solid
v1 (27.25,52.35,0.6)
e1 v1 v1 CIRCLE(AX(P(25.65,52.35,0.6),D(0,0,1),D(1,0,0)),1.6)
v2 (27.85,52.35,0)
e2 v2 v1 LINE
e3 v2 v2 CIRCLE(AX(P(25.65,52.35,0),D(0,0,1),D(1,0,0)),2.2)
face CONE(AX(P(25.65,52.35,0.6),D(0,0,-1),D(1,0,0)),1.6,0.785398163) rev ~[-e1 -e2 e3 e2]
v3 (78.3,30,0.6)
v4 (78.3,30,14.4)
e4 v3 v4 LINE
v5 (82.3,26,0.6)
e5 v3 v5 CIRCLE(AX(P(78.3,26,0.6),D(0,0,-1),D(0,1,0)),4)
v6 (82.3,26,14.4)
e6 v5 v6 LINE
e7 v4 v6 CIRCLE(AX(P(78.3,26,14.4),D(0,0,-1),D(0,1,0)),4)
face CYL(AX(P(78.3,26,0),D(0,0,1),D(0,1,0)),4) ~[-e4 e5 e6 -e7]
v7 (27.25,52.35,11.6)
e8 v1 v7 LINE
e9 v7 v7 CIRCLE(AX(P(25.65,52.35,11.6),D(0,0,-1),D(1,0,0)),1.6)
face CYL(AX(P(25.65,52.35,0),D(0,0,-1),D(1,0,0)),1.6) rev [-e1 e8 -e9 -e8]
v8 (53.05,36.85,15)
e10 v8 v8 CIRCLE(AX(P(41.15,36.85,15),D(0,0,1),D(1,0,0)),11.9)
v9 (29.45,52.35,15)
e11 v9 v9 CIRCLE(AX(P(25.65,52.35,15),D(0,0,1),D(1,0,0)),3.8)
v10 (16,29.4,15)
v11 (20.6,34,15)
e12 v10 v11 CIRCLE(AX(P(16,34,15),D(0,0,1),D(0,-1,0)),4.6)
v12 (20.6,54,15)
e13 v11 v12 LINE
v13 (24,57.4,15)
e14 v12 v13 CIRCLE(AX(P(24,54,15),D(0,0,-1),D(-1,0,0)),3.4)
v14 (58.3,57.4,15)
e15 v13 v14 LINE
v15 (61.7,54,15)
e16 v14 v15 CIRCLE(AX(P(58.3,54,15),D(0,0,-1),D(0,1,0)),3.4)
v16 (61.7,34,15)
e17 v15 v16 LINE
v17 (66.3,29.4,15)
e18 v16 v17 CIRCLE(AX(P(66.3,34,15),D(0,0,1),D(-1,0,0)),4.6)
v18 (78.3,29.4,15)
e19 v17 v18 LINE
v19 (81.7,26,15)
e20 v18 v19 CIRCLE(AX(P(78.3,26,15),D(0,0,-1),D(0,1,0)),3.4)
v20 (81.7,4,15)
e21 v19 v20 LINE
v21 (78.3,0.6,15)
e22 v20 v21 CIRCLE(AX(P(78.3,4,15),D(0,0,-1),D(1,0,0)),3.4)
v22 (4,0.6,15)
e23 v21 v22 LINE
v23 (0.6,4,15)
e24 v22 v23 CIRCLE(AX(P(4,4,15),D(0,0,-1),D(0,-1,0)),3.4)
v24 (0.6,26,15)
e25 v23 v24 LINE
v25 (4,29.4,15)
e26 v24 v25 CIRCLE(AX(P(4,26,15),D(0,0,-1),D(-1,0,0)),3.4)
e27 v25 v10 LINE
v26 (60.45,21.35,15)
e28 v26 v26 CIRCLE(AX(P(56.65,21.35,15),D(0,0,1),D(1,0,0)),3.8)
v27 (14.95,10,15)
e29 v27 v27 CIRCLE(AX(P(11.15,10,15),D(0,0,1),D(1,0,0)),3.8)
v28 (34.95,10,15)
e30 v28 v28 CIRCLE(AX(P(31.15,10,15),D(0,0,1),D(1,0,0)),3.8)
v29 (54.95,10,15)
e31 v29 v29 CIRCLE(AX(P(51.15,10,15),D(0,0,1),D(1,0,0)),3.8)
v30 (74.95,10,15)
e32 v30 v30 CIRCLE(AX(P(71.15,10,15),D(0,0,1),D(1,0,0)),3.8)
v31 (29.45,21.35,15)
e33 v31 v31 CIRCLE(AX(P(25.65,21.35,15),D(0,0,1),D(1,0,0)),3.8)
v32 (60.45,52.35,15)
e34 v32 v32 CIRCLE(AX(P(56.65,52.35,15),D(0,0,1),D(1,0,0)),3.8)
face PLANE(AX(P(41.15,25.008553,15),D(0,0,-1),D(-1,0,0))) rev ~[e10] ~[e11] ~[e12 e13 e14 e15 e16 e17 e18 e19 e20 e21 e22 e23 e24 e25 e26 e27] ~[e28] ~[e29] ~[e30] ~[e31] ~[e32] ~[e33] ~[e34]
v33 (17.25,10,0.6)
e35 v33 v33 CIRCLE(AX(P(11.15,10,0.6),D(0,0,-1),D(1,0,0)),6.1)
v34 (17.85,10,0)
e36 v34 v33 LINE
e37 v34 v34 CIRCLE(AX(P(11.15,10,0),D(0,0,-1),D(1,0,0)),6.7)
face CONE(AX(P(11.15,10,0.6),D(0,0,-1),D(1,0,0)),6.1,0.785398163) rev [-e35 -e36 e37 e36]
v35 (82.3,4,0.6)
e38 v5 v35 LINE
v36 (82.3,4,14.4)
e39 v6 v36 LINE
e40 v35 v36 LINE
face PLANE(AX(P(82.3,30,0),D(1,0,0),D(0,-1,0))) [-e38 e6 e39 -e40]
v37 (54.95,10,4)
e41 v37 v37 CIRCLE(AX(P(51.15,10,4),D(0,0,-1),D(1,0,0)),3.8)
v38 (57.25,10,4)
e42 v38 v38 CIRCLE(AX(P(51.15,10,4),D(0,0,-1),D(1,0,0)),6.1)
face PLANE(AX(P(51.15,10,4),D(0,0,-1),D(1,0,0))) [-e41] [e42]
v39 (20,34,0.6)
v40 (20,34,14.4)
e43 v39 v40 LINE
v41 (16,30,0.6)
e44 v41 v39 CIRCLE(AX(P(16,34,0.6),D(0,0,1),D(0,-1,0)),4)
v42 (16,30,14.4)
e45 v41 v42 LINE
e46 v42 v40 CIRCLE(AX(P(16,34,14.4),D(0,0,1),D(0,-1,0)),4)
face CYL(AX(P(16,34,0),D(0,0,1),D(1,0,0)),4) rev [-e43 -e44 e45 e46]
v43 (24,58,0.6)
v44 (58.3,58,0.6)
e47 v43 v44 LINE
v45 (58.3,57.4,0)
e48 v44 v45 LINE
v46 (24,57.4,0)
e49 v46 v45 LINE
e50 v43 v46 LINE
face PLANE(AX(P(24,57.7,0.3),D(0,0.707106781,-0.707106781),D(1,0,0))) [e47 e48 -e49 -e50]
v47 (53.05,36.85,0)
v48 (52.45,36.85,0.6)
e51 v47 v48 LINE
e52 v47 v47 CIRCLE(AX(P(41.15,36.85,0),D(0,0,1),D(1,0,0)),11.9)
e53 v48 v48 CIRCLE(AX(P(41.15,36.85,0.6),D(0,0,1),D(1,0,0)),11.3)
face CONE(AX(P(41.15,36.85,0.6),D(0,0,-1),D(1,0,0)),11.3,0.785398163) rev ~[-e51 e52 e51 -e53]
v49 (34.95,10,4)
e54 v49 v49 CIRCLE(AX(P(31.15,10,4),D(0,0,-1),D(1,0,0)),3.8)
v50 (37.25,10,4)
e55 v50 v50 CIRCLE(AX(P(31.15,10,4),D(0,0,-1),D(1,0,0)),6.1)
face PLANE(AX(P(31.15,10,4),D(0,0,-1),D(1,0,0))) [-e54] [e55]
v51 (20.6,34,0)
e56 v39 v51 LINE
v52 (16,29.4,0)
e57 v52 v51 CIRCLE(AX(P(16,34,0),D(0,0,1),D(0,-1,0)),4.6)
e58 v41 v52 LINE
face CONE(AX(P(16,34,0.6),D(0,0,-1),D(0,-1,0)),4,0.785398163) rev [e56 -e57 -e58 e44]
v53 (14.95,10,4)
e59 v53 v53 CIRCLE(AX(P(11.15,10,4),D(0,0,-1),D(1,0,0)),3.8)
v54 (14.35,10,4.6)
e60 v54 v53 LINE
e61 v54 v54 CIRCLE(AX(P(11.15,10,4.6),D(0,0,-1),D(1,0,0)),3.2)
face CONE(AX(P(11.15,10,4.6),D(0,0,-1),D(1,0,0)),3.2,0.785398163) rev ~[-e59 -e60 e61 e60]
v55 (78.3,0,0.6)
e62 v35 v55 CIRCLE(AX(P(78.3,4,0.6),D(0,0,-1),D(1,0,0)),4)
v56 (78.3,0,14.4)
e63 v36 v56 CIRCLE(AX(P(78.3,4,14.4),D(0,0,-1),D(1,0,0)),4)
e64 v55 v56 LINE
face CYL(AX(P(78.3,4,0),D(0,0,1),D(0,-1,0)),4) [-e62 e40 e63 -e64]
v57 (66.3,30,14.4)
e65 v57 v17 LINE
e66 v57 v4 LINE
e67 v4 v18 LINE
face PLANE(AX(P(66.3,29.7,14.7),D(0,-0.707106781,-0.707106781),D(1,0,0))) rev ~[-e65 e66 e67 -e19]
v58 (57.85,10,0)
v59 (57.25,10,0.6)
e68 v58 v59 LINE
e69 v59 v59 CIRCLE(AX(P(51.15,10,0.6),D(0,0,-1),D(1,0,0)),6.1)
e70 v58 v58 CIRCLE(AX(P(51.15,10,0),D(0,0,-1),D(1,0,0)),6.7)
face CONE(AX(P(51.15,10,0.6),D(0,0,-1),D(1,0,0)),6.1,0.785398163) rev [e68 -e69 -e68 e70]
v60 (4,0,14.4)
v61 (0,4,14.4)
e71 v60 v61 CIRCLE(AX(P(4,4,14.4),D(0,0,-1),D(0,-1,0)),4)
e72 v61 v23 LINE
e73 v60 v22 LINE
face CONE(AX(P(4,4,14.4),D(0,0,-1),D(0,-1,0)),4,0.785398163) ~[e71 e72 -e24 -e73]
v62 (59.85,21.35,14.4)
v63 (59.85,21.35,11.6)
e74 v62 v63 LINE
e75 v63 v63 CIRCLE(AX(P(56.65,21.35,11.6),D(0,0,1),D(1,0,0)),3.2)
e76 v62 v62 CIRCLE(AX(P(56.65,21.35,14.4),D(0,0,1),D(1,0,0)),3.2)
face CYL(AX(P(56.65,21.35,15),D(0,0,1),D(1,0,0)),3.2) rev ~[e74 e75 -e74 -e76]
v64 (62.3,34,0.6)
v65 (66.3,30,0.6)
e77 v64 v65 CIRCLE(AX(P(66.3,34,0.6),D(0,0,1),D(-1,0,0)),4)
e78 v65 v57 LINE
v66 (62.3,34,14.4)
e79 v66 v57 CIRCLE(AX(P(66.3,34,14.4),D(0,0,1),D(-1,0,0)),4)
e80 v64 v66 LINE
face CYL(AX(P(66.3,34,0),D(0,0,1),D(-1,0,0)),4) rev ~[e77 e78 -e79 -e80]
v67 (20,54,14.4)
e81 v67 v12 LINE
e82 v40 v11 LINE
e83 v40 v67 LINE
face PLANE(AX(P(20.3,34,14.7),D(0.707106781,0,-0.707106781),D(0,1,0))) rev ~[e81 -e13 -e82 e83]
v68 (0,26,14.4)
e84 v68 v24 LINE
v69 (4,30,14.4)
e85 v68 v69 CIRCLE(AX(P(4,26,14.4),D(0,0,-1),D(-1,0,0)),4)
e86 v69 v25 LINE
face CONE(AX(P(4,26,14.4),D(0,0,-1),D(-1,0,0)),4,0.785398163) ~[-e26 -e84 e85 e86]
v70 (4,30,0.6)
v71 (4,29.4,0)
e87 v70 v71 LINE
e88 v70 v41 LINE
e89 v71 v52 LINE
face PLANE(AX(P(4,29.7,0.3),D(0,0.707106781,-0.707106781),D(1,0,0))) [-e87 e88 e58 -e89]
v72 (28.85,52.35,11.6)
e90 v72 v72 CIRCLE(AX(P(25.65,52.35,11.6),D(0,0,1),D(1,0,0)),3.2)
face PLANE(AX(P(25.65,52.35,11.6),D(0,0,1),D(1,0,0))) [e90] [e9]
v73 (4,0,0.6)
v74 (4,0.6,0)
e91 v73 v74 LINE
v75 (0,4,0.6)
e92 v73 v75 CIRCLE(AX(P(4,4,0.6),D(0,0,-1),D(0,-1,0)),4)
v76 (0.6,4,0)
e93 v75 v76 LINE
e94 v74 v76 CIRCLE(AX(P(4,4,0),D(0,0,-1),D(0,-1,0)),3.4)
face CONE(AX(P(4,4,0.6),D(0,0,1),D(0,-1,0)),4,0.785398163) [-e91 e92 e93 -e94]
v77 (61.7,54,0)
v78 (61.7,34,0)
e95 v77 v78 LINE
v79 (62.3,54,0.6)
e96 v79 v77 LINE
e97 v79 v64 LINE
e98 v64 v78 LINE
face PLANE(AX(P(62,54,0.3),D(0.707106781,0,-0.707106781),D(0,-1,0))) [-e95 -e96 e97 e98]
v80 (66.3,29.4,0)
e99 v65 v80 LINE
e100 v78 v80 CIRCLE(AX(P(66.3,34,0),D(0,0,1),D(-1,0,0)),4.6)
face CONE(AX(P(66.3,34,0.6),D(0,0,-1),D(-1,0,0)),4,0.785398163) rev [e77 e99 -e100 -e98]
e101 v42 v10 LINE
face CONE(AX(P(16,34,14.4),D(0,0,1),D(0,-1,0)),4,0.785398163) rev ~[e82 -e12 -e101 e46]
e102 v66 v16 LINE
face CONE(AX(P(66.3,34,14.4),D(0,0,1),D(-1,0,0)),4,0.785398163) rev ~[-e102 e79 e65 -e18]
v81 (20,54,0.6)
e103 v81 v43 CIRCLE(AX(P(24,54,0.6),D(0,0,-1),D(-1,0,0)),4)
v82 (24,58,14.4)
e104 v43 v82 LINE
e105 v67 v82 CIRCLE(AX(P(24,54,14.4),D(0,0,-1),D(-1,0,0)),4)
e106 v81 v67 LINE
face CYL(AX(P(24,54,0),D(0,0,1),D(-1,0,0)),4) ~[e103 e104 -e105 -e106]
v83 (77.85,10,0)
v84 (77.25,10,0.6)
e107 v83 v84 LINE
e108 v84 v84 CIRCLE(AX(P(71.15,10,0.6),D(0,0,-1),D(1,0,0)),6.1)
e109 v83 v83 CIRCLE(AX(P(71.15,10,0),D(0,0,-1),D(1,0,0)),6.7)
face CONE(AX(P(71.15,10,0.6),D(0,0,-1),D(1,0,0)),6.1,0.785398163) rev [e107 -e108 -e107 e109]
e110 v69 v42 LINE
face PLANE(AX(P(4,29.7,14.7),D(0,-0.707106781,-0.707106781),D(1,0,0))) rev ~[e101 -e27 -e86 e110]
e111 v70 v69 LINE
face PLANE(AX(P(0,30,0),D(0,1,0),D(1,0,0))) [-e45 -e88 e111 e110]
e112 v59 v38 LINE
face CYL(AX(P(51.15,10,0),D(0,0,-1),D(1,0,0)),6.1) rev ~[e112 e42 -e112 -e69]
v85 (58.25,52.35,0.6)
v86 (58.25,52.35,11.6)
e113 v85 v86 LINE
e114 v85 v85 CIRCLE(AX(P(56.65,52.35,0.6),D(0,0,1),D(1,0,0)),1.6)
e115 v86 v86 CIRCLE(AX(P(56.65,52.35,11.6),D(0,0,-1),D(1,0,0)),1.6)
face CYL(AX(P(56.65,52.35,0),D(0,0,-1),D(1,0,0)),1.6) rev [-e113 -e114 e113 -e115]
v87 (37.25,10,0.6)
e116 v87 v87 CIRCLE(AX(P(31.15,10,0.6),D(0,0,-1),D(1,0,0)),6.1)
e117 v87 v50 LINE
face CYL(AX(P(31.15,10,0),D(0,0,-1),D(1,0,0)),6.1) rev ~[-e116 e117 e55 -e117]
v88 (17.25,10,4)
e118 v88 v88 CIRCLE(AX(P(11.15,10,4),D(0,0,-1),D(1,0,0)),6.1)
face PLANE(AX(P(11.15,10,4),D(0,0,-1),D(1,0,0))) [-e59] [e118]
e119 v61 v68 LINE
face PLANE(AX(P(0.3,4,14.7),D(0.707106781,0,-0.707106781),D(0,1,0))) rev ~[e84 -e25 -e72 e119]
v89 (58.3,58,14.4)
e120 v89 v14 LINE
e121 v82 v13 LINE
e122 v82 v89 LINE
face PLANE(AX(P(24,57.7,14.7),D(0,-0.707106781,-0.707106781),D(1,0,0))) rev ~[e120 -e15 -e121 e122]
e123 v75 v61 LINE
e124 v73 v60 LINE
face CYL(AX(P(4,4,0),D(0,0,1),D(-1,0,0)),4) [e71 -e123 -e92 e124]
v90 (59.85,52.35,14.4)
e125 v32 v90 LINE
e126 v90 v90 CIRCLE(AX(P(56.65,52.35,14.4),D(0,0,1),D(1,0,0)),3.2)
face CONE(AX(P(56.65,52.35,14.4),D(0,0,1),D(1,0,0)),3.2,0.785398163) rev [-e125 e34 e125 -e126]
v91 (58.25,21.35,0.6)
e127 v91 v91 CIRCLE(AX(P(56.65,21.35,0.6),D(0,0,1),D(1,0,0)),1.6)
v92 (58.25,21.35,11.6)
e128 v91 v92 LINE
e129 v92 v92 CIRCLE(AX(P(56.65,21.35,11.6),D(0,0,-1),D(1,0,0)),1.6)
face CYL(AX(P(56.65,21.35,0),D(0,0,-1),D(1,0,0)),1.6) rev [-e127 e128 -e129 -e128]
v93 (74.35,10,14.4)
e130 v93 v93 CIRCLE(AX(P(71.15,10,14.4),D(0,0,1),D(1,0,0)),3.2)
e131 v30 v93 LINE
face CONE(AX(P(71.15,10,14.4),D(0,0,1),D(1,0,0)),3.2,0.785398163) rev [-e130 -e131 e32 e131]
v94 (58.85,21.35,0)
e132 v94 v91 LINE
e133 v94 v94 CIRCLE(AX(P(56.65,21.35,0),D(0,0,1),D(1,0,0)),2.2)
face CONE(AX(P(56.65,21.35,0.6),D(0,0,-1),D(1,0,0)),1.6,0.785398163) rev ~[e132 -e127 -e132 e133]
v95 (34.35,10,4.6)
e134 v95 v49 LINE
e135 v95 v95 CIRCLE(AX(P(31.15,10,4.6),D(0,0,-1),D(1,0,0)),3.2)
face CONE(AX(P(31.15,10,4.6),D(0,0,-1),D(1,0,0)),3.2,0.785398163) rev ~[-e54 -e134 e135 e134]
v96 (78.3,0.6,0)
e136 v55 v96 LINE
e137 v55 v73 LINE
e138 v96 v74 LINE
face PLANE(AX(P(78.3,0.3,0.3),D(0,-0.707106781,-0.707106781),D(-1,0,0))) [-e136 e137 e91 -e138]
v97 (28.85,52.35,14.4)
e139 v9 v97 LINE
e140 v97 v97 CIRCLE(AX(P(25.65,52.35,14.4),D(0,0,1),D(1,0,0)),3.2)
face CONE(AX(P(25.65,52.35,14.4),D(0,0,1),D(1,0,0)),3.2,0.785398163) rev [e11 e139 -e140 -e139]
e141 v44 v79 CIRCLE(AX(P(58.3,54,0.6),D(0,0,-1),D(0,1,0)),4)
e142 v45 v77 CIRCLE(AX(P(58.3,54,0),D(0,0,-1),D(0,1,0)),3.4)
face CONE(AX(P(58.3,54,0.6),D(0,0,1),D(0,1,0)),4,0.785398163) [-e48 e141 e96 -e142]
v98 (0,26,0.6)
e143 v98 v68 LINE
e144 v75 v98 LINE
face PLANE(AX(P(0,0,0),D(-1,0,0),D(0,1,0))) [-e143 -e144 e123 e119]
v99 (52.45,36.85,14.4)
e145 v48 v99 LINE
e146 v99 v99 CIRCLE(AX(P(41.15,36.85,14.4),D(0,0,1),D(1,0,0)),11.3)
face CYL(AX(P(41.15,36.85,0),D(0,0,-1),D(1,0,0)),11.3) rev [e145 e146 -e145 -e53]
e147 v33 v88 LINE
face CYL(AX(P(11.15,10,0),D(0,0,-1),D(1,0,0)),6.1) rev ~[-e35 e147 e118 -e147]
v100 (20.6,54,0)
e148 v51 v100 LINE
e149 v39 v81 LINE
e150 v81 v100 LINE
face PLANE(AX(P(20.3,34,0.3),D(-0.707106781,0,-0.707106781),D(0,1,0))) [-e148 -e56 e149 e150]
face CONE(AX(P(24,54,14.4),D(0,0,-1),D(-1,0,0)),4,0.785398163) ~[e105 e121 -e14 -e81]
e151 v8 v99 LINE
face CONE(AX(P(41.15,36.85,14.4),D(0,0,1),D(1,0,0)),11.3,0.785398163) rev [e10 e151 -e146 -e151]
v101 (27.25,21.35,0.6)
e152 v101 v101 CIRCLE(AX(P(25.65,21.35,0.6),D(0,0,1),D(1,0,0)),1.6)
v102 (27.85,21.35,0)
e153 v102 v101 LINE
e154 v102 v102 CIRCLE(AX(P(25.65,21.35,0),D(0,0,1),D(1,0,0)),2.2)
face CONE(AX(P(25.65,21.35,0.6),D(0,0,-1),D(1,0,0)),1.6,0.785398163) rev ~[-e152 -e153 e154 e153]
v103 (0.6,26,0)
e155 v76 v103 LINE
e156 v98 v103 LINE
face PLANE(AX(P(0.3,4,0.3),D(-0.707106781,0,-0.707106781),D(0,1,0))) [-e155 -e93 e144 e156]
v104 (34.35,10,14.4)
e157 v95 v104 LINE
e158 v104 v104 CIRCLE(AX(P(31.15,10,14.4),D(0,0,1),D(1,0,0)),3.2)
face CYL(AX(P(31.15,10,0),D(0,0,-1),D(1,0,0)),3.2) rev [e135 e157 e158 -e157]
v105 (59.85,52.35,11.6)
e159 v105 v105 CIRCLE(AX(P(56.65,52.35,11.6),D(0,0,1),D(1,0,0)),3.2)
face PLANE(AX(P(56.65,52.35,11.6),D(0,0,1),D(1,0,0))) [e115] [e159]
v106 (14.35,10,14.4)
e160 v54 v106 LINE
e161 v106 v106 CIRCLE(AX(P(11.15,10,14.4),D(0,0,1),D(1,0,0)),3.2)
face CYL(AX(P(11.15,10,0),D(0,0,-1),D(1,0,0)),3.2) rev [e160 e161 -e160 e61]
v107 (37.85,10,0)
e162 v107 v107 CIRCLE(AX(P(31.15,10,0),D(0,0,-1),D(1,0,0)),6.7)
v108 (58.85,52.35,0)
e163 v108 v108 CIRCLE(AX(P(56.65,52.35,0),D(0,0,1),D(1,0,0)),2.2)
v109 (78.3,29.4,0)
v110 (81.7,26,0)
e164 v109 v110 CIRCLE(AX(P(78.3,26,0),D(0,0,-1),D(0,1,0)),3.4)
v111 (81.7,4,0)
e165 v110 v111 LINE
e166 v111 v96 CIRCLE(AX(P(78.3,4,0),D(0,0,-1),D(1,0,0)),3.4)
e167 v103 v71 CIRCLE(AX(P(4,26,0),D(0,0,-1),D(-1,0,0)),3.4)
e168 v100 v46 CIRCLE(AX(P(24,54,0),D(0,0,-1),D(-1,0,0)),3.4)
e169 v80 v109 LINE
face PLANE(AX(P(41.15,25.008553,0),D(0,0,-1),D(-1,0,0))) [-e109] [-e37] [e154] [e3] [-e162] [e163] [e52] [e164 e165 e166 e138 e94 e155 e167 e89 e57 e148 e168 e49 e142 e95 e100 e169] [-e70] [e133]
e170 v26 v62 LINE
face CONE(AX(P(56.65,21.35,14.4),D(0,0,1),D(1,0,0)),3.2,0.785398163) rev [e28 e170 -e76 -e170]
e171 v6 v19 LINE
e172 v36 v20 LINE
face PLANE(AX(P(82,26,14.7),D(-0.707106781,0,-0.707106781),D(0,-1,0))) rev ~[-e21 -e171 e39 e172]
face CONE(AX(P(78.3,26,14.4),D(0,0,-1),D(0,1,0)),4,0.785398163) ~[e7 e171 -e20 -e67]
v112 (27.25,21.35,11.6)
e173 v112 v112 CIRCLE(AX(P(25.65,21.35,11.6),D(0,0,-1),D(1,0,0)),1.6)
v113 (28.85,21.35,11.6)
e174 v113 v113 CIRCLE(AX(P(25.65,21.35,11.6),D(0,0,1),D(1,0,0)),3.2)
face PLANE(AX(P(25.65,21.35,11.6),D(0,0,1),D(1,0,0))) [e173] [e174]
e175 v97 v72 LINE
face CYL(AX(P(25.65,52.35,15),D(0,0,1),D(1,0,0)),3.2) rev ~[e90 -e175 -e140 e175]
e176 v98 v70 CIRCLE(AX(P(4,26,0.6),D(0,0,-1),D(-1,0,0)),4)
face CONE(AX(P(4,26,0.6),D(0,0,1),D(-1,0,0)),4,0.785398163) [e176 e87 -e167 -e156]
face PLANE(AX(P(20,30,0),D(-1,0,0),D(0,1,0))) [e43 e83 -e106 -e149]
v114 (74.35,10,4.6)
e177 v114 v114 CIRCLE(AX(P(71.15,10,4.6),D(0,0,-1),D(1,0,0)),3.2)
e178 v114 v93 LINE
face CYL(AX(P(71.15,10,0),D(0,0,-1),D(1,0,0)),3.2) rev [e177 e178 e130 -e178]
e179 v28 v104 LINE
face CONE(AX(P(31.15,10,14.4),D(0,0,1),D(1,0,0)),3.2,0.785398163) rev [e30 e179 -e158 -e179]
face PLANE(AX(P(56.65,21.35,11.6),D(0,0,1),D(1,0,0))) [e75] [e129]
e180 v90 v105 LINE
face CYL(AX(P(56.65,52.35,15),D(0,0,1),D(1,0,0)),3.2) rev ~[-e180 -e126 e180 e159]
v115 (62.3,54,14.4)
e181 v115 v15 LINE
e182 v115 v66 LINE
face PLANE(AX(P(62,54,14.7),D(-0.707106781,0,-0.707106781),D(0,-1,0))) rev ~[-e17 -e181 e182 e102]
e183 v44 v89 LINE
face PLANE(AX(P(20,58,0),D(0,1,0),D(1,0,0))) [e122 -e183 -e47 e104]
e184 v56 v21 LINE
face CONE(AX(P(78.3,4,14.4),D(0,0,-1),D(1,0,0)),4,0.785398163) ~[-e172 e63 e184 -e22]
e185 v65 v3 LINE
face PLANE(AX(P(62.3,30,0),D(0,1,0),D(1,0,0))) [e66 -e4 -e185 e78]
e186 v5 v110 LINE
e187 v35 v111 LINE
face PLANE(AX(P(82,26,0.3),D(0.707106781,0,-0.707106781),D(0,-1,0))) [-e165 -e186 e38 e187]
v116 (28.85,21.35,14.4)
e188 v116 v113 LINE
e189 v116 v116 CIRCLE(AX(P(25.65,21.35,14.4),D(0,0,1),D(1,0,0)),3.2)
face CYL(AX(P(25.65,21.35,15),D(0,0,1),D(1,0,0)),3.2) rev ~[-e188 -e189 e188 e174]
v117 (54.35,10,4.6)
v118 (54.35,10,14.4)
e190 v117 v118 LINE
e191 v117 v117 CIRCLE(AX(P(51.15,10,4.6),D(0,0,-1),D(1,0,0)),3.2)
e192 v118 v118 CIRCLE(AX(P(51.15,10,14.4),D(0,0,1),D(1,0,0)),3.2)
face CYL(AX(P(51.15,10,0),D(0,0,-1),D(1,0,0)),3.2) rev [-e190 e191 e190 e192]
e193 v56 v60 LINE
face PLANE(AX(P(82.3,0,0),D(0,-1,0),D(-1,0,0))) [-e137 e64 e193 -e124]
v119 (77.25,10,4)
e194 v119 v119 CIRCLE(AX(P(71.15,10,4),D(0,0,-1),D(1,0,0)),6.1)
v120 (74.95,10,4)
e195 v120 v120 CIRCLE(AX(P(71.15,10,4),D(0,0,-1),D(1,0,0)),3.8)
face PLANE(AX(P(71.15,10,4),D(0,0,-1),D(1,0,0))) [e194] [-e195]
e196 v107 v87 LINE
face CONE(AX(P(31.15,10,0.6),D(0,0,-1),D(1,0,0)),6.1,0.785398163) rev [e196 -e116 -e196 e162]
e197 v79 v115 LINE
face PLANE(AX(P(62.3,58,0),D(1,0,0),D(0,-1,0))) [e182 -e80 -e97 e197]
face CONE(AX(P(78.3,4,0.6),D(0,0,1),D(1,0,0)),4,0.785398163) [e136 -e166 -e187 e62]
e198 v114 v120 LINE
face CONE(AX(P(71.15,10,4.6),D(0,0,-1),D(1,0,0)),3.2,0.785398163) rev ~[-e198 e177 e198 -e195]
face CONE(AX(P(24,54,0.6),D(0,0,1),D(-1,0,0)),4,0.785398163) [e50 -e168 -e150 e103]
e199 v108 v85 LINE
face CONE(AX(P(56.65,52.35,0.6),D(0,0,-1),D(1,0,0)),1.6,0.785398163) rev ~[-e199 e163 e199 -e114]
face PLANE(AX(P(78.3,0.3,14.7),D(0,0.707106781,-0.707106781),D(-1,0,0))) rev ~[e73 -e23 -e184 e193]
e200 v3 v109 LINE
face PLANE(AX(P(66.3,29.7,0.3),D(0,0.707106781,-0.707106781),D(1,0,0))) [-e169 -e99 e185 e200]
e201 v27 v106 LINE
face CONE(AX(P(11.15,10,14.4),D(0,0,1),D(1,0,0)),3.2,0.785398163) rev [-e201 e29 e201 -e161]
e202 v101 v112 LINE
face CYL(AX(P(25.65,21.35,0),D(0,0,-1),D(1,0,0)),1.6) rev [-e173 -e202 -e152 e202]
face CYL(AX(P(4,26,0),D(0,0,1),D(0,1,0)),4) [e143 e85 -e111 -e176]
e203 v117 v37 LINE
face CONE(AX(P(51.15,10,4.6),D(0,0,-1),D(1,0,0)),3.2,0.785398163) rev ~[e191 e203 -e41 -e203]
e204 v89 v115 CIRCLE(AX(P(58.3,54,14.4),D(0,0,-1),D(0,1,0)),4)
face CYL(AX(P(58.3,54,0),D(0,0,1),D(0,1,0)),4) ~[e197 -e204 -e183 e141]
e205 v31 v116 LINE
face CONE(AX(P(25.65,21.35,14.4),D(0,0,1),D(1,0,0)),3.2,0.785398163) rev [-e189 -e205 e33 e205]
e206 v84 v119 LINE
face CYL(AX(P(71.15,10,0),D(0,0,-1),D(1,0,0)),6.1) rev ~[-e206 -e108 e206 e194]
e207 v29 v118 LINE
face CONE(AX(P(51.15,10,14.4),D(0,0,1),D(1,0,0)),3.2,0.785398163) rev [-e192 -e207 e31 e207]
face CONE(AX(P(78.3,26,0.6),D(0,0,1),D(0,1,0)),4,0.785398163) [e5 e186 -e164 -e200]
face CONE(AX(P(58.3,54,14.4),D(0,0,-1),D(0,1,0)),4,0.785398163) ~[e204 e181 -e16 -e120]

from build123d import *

# Parameters (mm, degrees)
SKETCH_R        = 11.3
SKETCH_R_2      = 1.6
SKETCH_R_3      = 3.2
PAD_DEPTH       = 15
SKETCH001_R     = 3.2
POCKET_DEPTH    = 3.4
SKETCH002_R     = 6.1
POCKET001_DEPTH = 4
FILLET_R        = 4
FILLET001_R     = 4
CHAMFER_SIZE    = 0.6
CHAMFER001_SIZE = 0.6
CHAMFER002_SIZE = 0.6


with BuildPart() as part:
    # Sketch → Pad (new body)
    with BuildSketch(Plane.XY):
        Polygon((20, 30), (20, 58), (62.3, 58), (62.3, 30), (82.3, 30), (82.3, 0), (0, 0), (0, 30), align=None)
        with Locations((41.15, 36.85)):
            Circle(SKETCH_R, mode=Mode.SUBTRACT)
        with Locations((25.65, 52.35)):
            Circle(SKETCH_R_2, mode=Mode.SUBTRACT)
        with Locations((25.65, 21.35)):
            Circle(SKETCH_R_2, mode=Mode.SUBTRACT)
        with Locations((56.65, 52.35)):
            Circle(SKETCH_R_2, mode=Mode.SUBTRACT)
        with Locations((56.65, 21.35)):
            Circle(SKETCH_R_2, mode=Mode.SUBTRACT)
        with Locations((11.15, 10)):
            Circle(SKETCH_R_3, mode=Mode.SUBTRACT)
        with Locations((31.15, 10)):
            Circle(SKETCH_R_3, mode=Mode.SUBTRACT)
        with Locations((51.15, 10)):
            Circle(SKETCH_R_3, mode=Mode.SUBTRACT)
        with Locations((71.15, 10)):
            Circle(SKETCH_R_3, mode=Mode.SUBTRACT)
    extrude(amount=PAD_DEPTH)

    # Sketch001 (on Face19 of Pad) → Pocket (cut)
    with BuildSketch(Plane.XY.offset(15)):
        with Locations((25.65, 52.35)):
            Circle(SKETCH001_R)
        with Locations((56.65, 52.35)):
            Circle(SKETCH001_R)
        with Locations((56.65, 21.35)):
            Circle(SKETCH001_R)
        with Locations((25.65, 21.35)):
            Circle(SKETCH001_R)
    extrude(amount=-POCKET_DEPTH, mode=Mode.SUBTRACT)

    # Sketch002 (on Face4 of Pocket) → Pocket001 (cut)
    with BuildSketch(Plane(origin=(0, 0, 0), x_dir=(1, 0, 0), z_dir=(0, 0, -1))):
        with Locations((11.15, -10)):
            Circle(SKETCH002_R)
        with Locations((31.15, -10)):
            Circle(SKETCH002_R)
        with Locations((51.15, -10)):
            Circle(SKETCH002_R)
        with Locations((71.15, -10)):
            Circle(SKETCH002_R)
    extrude(amount=-POCKET001_DEPTH, mode=Mode.SUBTRACT)

    # Fillet
    fillet_edges = [part.edges().sort_by_distance(p)[0] for p in [
        (0, 30, 7.5),
        (20, 58, 7.5),
        (62.3, 58, 7.5),
        (82.3, 30, 7.5),
        (0, 0, 7.5),
        (82.3, 0, 7.5),
    ]]
    fillet(fillet_edges, radius=FILLET_R)

    # Fillet001
    fillet001_edges = [part.edges().sort_by_distance(p)[0] for p in [
        (20, 30, 7.5),
        (62.3, 30, 7.5),
    ]]
    fillet(fillet001_edges, radius=FILLET001_R)

    # Chamfer
    chamfer_edges = [part.edges().sort_by_distance(p)[0] for p in [
        (20, 44, 0),
        (18.828427, 31.171573, 0),
        (21.171573, 56.828427, 0),
        (10, 30, 0),
        (41.15, 58, 0),
        (1.171573, 28.828427, 0),
        (61.128427, 56.828427, 0),
        (0, 15, 0),
        (62.3, 44, 0),
        (1.171573, 1.171573, 0),
        (63.471573, 31.171573, 0),
        (41.15, 0, 0),
        (72.3, 30, 0),
        (81.128427, 1.171573, 0),
        (81.128427, 28.828427, 0),
        (82.3, 15, 0),
        (29.85, 36.85, 0),
        (55.05, 52.35, 0),
        (24.05, 52.35, 0),
        (25.05, 10, 0),
        (24.05, 21.35, 0),
        (55.05, 21.35, 0),
        (45.05, 10, 0),
        (65.05, 10, 0),
        (5.05, 10, 0),
    ]]
    chamfer(chamfer_edges, length=CHAMFER_SIZE)

    # Chamfer001
    chamfer001_edges = [part.edges().sort_by_distance(p)[0] for p in [
        (20, 44, 15),
        (18.828427, 31.171573, 15),
        (21.171573, 56.828427, 15),
        (10, 30, 15),
        (41.15, 58, 15),
        (1.171573, 28.828427, 15),
        (61.128427, 56.828427, 15),
        (0, 15, 15),
        (62.3, 44, 15),
        (1.171573, 1.171573, 15),
        (63.471573, 31.171573, 15),
        (41.15, 0, 15),
        (72.3, 30, 15),
        (81.128427, 1.171573, 15),
        (81.128427, 28.828427, 15),
        (82.3, 15, 15),
        (29.85, 36.85, 15),
        (53.45, 52.35, 15),
        (53.45, 21.35, 15),
        (67.95, 10, 15),
        (47.95, 10, 15),
        (27.95, 10, 15),
        (22.45, 21.35, 15),
        (22.45, 52.35, 15),
        (7.95, 10, 15),
    ]]
    chamfer(chamfer001_edges, length=CHAMFER001_SIZE)

    # Chamfer002
    chamfer002_edges = [part.edges().sort_by_distance(p)[0] for p in [
        (67.95, 10, 4),
        (47.95, 10, 4),
        (27.95, 10, 4),
        (7.95, 10, 4),
    ]]
    chamfer(chamfer002_edges, length=CHAMFER002_SIZE)


solid = part.part
